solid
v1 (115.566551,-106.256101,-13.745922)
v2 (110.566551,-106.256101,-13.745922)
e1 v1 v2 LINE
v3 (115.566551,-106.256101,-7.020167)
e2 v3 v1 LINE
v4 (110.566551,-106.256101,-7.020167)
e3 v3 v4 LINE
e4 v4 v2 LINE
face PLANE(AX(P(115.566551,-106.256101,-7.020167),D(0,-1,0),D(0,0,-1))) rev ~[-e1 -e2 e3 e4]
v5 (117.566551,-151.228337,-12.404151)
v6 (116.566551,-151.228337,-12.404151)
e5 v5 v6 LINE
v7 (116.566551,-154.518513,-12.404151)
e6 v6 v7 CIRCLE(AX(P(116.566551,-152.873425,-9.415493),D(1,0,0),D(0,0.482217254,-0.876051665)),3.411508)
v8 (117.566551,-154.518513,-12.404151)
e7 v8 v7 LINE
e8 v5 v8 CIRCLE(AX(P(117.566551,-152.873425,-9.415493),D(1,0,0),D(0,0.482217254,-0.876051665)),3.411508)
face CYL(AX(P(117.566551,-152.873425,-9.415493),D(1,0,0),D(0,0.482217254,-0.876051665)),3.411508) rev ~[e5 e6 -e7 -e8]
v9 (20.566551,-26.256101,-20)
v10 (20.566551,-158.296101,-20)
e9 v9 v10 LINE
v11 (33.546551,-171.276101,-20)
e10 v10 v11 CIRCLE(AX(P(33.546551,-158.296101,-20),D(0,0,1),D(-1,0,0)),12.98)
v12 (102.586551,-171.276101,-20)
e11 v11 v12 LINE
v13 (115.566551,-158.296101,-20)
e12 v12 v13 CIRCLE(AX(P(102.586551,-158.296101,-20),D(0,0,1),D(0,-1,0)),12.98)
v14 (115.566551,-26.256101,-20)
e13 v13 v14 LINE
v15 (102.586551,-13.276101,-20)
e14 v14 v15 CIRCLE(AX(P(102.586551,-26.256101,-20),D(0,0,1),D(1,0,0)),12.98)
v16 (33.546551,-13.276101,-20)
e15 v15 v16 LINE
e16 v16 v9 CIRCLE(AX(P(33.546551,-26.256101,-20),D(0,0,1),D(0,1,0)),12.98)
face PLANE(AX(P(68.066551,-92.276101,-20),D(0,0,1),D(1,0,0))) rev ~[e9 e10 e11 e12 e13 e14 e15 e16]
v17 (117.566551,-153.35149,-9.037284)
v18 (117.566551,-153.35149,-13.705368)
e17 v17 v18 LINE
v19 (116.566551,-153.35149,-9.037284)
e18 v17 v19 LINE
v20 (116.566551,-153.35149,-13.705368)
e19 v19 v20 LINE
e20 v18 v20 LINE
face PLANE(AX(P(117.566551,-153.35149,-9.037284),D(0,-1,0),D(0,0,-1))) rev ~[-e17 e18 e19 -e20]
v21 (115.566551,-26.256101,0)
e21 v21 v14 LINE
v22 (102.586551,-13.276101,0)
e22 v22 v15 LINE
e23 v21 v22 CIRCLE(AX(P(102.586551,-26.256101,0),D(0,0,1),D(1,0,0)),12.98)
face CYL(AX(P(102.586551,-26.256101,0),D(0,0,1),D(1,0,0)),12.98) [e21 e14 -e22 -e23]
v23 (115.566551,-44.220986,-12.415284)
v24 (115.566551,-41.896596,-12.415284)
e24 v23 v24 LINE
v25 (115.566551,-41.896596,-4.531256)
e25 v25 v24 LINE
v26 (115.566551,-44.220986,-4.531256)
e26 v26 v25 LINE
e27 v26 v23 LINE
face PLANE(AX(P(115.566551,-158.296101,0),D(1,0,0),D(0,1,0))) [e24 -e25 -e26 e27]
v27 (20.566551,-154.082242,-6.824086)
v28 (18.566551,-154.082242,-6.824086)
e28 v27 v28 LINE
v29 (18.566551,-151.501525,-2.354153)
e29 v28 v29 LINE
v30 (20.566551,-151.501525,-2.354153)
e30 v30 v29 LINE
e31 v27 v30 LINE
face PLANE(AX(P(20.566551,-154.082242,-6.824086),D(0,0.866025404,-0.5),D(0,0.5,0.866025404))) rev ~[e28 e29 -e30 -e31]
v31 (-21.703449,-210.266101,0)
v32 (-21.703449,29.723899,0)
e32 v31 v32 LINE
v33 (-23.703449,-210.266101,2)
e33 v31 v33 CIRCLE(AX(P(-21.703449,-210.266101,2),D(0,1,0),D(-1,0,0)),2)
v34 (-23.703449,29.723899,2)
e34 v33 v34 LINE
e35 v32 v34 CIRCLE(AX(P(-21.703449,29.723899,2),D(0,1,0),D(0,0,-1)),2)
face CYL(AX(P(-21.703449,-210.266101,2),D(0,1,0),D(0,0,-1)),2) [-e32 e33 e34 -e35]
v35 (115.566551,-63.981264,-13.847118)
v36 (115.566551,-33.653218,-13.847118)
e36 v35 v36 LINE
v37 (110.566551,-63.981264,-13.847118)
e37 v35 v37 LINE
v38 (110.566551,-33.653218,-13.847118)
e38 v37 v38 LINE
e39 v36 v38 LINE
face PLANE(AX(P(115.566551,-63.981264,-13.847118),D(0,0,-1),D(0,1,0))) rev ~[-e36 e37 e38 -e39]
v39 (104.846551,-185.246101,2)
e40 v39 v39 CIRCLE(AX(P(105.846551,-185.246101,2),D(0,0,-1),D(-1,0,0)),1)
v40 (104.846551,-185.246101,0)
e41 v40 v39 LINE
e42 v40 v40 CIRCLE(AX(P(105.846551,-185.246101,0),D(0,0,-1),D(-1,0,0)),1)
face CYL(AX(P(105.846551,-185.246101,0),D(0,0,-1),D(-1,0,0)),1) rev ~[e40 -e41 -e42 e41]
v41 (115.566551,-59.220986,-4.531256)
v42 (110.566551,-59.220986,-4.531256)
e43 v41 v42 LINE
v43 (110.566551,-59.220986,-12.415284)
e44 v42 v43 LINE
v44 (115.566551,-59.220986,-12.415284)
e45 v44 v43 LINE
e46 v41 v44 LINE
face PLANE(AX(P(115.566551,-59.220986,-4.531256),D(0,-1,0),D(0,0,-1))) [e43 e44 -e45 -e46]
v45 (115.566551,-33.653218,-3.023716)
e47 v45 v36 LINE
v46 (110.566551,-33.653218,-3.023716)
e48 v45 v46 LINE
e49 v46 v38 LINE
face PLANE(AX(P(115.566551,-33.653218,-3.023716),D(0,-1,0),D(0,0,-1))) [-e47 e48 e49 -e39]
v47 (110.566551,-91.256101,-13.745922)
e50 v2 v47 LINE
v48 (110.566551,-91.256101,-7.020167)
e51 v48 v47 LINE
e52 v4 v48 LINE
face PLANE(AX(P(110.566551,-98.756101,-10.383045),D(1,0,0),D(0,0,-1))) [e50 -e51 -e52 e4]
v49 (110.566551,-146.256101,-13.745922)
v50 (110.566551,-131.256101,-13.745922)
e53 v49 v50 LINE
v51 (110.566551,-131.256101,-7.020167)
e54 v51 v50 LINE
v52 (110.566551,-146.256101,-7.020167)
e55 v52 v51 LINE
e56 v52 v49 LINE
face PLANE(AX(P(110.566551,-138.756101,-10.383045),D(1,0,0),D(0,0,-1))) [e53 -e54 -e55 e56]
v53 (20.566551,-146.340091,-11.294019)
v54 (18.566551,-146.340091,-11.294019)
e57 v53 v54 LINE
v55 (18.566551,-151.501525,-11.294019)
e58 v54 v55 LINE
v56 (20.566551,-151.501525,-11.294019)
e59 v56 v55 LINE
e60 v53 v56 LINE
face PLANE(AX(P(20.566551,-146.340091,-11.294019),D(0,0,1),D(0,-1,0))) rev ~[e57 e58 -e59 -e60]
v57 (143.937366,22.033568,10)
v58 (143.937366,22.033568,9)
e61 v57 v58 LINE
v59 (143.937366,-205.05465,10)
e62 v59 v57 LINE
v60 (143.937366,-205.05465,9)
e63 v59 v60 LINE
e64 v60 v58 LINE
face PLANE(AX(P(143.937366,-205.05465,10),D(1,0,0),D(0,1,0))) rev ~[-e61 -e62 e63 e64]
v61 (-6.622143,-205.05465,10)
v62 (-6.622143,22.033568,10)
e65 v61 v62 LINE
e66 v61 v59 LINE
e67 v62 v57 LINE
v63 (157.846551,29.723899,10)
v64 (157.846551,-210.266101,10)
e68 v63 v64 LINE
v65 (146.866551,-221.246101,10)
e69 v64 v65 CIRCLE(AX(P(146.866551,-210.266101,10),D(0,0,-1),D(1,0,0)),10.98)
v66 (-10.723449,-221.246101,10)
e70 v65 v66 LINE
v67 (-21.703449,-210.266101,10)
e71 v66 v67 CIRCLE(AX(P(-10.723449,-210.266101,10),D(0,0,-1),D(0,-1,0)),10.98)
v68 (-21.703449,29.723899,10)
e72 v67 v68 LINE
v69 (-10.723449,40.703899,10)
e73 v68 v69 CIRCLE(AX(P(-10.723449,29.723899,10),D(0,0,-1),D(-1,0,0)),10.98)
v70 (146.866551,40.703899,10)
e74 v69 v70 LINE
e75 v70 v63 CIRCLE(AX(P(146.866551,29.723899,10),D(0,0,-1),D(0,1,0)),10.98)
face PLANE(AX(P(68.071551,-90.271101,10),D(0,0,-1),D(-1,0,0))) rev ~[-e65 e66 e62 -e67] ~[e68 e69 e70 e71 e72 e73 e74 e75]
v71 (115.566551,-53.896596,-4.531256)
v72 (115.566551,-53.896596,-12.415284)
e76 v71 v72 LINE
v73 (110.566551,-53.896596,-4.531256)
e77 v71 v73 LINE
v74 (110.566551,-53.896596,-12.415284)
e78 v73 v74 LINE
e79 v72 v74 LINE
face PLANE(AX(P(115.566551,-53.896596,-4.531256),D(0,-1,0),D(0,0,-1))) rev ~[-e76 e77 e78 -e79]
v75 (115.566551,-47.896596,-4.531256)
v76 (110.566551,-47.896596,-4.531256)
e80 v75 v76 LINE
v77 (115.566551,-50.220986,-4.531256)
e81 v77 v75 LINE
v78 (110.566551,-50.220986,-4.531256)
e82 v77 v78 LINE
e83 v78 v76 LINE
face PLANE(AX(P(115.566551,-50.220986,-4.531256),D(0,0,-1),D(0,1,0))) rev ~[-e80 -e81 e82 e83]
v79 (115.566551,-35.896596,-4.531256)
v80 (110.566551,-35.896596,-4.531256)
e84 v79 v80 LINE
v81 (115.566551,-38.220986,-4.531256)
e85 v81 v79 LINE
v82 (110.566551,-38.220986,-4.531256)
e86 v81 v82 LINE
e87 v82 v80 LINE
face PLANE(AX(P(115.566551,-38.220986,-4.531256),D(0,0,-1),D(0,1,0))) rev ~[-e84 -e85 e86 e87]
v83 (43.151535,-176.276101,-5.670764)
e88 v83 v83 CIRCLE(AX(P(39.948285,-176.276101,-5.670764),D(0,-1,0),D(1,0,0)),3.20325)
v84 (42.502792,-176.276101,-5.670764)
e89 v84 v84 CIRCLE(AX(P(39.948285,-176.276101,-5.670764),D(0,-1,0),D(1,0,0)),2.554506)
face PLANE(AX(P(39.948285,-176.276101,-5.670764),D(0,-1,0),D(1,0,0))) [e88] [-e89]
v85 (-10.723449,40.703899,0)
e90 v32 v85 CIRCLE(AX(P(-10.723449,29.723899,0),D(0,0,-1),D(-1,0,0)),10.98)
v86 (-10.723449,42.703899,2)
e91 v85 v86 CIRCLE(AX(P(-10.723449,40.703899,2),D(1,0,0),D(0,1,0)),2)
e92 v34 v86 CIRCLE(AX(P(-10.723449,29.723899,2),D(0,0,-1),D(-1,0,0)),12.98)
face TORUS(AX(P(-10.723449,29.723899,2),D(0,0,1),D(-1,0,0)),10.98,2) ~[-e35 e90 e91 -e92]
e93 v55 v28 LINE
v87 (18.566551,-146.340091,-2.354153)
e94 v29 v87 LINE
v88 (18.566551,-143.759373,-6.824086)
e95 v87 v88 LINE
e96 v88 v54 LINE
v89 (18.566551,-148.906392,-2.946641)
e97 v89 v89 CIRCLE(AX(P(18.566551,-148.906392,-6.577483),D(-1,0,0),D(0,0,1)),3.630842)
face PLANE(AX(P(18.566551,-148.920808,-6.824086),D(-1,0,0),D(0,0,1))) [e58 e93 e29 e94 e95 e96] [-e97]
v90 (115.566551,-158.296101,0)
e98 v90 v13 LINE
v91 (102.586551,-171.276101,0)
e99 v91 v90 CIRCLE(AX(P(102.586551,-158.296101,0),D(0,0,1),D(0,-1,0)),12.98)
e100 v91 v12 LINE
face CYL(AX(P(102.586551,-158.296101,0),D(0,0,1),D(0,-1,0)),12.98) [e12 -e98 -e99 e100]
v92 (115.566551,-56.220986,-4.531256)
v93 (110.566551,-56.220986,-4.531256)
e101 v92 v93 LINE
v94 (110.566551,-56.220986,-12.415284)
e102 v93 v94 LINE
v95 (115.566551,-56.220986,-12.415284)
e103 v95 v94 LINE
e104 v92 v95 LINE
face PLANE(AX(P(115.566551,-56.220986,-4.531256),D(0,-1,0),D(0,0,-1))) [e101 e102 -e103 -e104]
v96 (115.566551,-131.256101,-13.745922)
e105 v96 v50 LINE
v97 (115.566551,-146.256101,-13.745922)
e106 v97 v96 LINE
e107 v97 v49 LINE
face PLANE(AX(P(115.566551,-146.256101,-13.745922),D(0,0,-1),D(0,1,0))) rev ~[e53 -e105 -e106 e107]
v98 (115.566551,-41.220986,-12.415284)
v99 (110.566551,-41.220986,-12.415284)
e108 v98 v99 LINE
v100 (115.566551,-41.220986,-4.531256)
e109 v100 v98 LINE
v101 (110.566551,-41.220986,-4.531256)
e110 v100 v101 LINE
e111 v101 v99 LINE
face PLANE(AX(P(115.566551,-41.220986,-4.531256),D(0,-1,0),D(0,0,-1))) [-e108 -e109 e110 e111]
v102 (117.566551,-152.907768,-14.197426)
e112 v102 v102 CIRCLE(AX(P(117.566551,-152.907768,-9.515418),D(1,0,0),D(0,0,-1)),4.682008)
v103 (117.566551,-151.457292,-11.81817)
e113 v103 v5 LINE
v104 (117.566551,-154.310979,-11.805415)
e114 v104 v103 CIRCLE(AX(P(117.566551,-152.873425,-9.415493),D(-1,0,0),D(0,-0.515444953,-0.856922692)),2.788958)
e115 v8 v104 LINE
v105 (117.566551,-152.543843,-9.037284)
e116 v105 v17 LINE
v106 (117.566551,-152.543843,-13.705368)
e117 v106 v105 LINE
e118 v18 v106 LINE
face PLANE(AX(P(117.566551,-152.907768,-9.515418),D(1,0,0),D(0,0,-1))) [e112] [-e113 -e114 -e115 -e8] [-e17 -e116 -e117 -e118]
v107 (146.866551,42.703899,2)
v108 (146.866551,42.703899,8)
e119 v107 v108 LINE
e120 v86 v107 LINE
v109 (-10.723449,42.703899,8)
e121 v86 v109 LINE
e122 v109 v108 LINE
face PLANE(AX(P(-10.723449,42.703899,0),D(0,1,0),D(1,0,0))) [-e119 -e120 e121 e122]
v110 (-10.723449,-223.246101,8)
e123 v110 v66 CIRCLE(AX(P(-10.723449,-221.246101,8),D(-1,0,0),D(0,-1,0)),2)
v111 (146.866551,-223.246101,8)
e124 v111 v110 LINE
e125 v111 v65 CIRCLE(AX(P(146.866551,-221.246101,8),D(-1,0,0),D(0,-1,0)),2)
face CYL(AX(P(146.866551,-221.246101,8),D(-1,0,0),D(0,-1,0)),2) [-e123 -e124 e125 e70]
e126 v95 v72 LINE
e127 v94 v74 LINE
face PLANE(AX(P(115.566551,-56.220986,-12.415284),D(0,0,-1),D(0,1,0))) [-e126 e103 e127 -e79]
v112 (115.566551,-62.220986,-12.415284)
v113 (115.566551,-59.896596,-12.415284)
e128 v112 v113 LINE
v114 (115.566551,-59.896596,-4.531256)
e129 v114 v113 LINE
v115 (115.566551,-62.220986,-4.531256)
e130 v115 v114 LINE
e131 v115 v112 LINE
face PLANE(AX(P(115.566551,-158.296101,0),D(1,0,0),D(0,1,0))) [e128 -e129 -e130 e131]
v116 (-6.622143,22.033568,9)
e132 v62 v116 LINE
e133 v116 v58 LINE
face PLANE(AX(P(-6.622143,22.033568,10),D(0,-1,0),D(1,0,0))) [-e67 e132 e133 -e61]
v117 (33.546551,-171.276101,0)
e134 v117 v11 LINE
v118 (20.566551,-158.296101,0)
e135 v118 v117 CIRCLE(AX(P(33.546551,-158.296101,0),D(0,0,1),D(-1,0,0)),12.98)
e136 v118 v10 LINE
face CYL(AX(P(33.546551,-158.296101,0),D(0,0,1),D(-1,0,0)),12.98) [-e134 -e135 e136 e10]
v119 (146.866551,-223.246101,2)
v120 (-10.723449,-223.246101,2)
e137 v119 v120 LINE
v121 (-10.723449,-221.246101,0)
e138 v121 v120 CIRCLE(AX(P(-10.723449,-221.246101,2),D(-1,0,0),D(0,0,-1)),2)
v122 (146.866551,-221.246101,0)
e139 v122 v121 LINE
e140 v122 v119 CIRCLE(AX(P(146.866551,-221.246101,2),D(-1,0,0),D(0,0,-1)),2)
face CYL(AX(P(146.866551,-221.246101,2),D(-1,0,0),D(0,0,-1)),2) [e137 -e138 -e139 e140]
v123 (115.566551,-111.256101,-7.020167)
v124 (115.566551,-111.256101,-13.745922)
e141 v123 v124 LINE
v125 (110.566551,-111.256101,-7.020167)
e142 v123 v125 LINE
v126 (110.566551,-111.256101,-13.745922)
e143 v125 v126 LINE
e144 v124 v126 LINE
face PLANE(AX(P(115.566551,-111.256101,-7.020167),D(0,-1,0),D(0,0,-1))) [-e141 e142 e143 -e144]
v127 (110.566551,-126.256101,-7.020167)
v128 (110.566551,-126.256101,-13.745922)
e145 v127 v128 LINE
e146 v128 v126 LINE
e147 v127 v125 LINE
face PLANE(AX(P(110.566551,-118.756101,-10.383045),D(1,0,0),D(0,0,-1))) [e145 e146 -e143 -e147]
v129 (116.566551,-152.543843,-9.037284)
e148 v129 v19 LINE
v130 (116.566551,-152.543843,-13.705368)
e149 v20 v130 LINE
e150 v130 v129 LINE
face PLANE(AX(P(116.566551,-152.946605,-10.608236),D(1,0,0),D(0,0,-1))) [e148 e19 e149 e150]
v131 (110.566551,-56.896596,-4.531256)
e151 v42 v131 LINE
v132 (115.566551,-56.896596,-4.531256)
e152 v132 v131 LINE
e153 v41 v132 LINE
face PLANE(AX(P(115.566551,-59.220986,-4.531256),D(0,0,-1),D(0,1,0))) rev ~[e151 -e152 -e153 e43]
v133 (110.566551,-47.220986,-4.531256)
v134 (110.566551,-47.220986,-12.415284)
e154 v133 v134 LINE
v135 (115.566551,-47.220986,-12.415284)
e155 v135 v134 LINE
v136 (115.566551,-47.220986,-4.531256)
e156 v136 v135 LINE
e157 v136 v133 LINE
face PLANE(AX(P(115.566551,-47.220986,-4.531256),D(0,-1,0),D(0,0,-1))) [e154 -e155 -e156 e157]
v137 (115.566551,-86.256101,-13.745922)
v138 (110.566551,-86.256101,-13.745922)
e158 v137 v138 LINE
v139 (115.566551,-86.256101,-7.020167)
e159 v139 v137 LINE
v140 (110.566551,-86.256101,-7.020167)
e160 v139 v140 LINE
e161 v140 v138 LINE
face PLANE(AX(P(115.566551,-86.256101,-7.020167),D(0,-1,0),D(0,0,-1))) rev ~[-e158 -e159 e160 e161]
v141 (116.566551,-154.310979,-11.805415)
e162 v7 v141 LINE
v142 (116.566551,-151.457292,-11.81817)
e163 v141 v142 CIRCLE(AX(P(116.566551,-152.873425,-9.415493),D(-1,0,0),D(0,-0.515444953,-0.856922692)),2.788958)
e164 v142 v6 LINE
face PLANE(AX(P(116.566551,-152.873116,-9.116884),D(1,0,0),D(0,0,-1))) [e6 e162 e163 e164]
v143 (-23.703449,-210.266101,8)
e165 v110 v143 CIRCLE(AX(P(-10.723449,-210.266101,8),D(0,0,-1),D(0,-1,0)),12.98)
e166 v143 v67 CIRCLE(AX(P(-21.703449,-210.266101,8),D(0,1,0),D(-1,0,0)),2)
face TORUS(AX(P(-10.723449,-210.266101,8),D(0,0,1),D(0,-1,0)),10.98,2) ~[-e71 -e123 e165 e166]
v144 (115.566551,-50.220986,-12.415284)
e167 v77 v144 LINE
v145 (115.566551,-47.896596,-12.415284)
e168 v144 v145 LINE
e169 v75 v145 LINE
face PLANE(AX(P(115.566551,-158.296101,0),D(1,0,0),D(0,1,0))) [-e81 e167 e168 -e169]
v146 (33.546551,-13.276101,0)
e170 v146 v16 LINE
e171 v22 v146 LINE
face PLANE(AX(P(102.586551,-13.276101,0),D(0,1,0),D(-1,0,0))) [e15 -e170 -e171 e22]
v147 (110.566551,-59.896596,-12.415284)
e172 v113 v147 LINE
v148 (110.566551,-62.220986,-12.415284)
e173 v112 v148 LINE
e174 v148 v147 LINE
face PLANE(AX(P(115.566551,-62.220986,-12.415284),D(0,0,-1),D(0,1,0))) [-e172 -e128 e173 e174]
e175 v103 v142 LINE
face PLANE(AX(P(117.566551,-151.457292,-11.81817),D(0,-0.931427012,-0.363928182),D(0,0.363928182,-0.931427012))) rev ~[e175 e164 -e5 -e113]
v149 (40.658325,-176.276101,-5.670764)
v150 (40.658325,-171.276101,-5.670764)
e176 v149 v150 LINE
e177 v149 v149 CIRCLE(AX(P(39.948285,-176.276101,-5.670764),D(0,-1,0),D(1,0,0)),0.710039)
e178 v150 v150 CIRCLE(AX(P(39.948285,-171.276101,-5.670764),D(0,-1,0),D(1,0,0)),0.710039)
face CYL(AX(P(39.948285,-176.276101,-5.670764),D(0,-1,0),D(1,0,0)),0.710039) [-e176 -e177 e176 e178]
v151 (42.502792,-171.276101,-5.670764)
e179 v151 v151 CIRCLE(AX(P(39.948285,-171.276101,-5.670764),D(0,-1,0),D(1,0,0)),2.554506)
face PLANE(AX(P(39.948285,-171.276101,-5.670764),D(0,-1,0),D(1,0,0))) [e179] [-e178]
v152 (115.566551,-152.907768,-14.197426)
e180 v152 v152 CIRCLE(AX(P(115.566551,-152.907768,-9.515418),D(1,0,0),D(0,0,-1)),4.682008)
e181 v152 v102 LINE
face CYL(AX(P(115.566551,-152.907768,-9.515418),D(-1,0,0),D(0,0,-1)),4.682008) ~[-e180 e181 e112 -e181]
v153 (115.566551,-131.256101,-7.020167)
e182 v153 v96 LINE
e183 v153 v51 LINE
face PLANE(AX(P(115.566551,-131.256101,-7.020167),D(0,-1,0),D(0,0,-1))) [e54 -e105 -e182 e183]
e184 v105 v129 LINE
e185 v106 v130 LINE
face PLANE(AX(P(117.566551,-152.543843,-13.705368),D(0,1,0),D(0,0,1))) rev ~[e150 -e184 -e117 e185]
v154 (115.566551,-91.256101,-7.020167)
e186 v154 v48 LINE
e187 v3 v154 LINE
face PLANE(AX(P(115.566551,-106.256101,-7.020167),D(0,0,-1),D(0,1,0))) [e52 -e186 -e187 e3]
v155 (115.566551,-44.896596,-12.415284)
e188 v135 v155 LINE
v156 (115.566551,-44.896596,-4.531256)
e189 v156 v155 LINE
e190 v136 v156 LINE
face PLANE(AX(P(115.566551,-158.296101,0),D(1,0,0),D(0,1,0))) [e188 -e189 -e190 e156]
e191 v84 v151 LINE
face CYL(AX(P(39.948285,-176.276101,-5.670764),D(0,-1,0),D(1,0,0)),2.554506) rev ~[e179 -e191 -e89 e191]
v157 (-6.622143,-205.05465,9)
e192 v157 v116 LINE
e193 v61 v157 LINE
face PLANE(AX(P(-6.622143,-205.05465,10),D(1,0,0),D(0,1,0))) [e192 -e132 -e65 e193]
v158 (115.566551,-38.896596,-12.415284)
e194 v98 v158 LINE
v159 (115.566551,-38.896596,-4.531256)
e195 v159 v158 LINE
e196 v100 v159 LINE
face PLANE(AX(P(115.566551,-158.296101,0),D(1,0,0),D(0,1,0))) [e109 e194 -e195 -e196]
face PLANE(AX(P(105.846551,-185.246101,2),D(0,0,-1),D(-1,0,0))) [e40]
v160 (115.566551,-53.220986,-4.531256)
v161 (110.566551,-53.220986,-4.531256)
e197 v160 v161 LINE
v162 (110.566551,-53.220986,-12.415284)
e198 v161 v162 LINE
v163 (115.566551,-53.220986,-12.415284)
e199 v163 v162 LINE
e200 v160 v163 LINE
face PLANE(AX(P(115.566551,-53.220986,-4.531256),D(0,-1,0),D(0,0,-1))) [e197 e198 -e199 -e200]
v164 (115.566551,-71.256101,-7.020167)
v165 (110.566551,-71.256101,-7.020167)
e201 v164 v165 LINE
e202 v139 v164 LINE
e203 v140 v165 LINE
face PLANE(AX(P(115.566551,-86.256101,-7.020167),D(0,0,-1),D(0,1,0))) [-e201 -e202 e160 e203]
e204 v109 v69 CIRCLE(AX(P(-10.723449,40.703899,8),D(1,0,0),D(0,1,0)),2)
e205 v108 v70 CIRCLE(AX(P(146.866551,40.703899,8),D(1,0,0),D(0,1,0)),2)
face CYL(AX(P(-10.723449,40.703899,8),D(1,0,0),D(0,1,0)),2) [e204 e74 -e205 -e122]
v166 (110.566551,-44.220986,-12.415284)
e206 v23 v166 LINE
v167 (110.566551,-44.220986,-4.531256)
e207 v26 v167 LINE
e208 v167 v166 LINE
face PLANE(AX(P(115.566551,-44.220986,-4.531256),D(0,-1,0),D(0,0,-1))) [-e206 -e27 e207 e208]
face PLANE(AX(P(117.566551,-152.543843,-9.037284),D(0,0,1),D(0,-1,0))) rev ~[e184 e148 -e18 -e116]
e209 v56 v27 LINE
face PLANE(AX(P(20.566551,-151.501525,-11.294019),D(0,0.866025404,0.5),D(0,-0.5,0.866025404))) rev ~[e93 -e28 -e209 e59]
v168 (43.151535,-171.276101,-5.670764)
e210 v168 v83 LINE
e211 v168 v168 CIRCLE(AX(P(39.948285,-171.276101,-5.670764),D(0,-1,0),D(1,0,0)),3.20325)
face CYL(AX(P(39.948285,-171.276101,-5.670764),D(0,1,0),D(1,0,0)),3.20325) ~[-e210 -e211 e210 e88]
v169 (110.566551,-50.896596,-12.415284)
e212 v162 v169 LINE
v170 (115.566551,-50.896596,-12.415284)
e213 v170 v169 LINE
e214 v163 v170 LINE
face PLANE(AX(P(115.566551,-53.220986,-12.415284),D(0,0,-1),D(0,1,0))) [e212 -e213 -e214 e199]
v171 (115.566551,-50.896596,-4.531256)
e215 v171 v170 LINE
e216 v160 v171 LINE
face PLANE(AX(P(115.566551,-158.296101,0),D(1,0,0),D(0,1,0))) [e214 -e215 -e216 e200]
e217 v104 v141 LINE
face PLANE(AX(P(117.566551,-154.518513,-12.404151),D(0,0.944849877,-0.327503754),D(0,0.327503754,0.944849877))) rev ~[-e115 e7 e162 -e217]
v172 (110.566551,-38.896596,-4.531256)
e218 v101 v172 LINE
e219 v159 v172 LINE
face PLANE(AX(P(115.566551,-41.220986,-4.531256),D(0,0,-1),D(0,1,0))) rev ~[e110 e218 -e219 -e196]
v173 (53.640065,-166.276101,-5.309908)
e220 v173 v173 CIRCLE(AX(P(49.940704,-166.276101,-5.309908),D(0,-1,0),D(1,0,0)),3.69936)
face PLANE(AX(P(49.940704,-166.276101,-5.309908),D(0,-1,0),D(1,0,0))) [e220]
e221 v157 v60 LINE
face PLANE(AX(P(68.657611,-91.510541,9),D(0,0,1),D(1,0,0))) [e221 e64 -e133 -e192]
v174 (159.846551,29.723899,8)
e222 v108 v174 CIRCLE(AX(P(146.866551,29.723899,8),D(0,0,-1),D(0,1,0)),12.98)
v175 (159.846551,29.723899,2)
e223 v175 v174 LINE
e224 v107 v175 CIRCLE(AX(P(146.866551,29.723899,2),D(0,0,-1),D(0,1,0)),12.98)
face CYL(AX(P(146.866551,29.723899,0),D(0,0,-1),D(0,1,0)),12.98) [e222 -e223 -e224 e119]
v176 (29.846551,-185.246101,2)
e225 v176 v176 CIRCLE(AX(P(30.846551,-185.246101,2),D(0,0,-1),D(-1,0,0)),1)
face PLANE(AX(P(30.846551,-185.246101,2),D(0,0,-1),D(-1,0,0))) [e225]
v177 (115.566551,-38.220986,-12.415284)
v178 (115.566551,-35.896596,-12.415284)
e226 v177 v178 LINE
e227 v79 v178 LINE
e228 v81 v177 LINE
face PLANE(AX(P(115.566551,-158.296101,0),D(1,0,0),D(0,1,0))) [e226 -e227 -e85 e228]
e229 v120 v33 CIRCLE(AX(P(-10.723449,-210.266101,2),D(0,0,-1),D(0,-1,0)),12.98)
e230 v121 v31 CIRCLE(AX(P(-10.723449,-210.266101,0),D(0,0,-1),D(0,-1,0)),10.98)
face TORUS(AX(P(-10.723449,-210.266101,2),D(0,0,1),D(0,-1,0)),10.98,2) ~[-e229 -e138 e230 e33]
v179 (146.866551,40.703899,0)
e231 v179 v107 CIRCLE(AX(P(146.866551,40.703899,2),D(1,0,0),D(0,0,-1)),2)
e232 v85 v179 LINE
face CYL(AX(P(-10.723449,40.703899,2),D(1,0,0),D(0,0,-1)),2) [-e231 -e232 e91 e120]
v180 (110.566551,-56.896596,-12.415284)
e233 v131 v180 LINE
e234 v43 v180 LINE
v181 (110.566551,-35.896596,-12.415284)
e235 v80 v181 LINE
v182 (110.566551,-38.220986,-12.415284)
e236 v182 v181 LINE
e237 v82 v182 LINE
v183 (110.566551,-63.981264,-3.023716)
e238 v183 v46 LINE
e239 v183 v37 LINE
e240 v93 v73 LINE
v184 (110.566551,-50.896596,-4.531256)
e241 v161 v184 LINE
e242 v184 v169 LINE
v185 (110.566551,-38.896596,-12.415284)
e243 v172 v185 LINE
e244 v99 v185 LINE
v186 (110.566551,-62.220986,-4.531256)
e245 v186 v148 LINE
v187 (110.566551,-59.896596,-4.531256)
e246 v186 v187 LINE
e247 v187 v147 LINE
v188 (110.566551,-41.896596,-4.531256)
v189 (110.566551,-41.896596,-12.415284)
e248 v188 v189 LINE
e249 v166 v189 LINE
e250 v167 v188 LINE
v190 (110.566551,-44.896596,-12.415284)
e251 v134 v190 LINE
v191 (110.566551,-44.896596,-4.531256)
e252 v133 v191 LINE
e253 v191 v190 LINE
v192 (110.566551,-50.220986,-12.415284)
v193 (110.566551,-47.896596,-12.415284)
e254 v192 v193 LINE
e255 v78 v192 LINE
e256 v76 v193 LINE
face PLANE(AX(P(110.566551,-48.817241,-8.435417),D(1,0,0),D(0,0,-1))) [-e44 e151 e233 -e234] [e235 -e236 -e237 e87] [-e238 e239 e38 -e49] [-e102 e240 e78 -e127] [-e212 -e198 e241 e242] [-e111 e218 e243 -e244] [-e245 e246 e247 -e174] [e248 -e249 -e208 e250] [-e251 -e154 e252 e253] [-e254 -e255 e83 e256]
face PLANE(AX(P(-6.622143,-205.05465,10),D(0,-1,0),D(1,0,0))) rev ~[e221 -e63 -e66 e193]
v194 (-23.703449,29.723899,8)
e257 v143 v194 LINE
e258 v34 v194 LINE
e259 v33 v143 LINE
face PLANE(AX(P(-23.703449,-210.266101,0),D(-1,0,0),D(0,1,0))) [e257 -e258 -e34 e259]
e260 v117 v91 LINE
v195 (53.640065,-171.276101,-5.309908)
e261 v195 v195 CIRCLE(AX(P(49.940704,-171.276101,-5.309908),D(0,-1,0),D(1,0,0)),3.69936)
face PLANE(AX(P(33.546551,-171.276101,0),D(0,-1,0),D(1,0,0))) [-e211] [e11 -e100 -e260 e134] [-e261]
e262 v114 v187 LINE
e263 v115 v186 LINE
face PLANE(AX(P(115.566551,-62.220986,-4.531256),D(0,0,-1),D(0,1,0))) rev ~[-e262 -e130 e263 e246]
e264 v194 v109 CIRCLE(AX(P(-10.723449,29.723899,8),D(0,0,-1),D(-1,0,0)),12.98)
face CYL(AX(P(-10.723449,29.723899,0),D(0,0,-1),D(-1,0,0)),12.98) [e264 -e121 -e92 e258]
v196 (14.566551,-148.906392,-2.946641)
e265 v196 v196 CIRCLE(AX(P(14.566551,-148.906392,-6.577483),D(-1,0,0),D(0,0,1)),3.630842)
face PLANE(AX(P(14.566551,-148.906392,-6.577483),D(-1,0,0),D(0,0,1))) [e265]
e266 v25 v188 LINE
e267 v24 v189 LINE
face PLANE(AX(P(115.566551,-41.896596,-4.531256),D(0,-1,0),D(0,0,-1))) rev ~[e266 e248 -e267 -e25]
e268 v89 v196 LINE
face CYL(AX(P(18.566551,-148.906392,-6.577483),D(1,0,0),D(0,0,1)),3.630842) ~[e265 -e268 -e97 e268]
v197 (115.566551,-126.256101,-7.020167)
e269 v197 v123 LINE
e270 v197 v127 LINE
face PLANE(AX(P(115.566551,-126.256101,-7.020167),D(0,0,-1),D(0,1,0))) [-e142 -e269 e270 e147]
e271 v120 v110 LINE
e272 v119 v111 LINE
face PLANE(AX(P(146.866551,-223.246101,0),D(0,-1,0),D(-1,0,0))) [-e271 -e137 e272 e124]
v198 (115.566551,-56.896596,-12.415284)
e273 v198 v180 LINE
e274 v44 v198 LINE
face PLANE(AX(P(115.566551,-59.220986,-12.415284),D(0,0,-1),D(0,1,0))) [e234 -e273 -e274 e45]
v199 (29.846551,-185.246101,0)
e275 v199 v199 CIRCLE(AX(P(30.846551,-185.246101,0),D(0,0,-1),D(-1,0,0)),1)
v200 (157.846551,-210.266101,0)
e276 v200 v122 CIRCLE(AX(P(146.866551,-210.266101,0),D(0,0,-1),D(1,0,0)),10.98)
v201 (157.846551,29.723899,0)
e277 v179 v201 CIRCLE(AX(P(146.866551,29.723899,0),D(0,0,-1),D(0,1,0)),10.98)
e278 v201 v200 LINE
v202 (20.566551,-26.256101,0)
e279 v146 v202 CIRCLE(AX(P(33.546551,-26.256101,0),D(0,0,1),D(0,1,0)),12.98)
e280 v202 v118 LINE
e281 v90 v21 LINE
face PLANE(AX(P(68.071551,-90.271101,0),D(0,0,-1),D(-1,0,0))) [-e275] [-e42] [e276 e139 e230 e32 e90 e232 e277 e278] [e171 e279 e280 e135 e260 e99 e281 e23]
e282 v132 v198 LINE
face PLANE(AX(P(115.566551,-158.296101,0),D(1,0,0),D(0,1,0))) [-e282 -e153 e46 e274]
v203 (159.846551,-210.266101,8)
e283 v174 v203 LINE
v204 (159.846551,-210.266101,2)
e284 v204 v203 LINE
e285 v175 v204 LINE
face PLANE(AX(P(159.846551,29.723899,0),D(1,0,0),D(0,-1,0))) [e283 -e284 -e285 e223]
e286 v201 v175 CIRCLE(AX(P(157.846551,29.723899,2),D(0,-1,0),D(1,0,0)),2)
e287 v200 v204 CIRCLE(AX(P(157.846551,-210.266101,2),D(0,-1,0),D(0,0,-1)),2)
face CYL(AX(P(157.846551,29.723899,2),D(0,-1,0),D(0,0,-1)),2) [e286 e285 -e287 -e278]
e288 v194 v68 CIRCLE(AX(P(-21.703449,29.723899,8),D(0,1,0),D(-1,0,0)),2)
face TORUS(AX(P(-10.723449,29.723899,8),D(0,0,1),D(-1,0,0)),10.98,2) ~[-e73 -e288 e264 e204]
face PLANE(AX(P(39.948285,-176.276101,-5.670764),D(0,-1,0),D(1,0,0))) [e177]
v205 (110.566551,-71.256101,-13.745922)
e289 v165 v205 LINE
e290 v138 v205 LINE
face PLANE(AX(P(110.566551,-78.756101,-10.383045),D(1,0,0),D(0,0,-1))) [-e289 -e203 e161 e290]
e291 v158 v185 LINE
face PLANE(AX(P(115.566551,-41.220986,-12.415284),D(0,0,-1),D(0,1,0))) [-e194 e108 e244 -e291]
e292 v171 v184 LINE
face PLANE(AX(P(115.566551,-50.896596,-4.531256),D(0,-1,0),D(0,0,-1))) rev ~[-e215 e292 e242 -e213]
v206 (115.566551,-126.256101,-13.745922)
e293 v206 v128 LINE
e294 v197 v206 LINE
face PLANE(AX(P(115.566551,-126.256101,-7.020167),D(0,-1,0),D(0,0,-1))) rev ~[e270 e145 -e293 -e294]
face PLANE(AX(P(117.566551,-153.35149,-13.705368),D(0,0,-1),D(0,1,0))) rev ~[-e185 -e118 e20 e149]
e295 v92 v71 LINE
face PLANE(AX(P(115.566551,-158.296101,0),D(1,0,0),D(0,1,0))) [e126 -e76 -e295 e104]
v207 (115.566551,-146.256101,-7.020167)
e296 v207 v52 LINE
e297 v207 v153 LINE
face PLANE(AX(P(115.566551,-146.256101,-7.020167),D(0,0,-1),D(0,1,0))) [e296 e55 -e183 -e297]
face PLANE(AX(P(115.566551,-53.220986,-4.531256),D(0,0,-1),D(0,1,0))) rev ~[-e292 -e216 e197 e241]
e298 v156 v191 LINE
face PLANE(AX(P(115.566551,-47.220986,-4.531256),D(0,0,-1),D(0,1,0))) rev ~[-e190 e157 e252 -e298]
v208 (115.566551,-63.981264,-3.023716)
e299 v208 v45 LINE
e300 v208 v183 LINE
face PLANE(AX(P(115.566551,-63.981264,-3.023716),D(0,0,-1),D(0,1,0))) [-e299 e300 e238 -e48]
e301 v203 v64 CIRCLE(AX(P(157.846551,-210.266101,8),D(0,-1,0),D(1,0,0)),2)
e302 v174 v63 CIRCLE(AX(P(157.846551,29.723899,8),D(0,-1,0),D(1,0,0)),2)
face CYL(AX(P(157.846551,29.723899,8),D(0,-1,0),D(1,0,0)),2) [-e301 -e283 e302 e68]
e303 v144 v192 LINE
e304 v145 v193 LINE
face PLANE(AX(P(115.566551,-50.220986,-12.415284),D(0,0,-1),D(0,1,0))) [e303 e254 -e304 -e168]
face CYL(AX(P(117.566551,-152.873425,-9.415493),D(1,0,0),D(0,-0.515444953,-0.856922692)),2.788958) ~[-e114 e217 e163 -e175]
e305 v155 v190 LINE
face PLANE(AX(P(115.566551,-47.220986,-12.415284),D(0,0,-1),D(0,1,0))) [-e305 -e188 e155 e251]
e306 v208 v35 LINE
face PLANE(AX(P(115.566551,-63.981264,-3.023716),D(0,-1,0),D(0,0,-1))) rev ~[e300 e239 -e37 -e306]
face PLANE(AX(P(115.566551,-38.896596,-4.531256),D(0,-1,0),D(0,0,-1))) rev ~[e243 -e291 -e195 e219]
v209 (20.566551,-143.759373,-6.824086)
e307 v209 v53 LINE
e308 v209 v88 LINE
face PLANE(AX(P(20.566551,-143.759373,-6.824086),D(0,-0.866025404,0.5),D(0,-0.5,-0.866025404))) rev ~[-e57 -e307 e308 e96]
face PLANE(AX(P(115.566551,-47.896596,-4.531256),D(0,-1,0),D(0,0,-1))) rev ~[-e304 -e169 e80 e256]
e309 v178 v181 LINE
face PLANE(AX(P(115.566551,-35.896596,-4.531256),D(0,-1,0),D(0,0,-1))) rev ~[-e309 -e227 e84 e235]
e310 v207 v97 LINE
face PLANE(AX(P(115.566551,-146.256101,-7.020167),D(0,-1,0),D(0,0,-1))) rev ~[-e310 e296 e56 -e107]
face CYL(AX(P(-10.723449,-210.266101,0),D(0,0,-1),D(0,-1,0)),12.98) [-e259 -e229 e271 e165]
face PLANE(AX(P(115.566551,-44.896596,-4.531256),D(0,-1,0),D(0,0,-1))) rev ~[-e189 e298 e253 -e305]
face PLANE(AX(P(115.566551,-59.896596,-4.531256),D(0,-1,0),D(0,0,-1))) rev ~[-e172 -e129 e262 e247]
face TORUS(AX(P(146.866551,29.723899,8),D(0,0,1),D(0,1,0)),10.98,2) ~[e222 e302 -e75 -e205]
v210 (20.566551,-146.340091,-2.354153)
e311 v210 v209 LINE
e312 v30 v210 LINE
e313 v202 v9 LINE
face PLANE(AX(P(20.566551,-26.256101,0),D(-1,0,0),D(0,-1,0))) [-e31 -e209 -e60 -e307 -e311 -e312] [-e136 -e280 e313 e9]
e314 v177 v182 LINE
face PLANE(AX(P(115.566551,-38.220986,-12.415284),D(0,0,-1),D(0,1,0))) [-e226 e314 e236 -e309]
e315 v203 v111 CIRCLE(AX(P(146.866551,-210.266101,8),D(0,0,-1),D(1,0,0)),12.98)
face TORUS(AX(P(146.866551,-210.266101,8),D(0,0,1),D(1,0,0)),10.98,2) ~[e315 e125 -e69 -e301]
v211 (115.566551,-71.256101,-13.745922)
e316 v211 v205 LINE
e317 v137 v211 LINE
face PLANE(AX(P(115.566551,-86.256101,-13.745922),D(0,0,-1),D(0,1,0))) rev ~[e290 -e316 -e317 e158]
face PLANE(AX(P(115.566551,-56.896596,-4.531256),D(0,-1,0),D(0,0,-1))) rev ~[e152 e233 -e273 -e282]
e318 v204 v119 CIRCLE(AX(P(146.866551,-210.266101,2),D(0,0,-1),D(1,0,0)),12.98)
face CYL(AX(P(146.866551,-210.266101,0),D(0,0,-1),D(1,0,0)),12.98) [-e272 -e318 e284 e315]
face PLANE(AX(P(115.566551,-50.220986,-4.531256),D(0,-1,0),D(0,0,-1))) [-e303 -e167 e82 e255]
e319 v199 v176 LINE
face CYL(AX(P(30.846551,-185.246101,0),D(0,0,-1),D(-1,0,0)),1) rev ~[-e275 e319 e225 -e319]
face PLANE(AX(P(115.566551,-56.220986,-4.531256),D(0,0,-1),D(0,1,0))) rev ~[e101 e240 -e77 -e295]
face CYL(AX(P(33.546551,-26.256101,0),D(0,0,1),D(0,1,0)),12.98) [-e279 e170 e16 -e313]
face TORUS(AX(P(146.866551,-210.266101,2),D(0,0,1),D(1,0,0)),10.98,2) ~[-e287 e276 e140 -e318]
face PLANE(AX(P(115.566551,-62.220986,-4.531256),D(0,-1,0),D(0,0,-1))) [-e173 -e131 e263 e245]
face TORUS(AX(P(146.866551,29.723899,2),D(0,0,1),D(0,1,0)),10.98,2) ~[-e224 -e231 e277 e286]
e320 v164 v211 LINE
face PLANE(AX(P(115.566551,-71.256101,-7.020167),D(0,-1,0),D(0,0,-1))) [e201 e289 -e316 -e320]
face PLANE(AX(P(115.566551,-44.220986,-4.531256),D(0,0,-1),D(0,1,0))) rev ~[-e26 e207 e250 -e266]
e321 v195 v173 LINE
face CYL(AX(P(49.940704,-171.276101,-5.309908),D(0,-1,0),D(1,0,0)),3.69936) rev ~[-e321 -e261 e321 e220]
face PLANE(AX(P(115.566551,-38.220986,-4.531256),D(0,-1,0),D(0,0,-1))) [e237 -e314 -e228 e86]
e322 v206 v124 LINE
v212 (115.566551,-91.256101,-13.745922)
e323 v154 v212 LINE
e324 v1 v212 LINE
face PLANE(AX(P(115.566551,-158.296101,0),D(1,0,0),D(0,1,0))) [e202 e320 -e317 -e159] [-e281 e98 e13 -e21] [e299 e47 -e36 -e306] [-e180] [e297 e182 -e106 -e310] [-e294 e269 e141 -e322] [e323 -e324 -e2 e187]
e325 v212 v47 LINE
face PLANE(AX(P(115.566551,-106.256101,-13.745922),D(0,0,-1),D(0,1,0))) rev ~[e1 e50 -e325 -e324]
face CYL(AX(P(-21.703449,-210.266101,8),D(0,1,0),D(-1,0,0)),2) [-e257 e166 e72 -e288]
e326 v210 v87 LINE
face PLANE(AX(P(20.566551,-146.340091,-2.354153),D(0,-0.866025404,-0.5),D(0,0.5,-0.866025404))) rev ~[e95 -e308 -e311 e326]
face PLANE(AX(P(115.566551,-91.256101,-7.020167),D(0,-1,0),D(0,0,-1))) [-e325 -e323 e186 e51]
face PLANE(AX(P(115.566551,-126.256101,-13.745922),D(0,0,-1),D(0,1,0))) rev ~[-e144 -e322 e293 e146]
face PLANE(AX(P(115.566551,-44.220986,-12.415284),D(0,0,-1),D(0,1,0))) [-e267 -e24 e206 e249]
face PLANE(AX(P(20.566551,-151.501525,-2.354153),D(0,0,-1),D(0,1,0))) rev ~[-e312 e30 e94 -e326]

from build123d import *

# Parameters (mm, degrees)
BOSS_EXTRUDE1_DEPTH = 10
FILLET1_R           = 2
FILLET2_R           = 2
SKETCH2_W           = 150.559508978
SKETCH2_H           = 227.088218296
CUT_EXTRUDE1_DEPTH  = 1
BOSS_EXTRUDE2_DEPTH = 20
SKETCH4_W           = 6.725754883
SKETCH4_H           = 15
CUT_EXTRUDE2_DEPTH  = 5
SKETCH5_W           = 10.823402452
SKETCH5_H           = 30.328045867
SKETCH5_W_2         = 7.884028191
SKETCH5_H_2         = 2.324389301
CUT_EXTRUDE3_DEPTH  = 5
SKETCH6_R           = 4.682007924
BOSS_EXTRUDE3_DEPTH = 2
CUT_EXTRUDE4_DEPTH  = 1
SKETCH8_R           = 3.203249508
BOSS_EXTRUDE4_DEPTH = 5
SKETCH9_R           = 2.554506396
SKETCH9_R_2         = 0.710039237
CUT_EXTRUDE5_DEPTH  = 5
SKETCH10_R          = 3.699360335
CUT_EXTRUDE6_DEPTH  = 5
BOSS_EXTRUDE5_DEPTH = 2
SKETCH12_R          = 3.630842339
BOSS_EXTRUDE6_DEPTH = 4
SKETCH13_R          = 1
CUT_EXTRUDE7_DEPTH  = 2


with BuildPart() as part:
    # Sketch1 → Boss-Extrude1 (new body)
    with BuildSketch(Plane.XY):
        with BuildLine():
            Line((-10.72344857, 42.703899352), (146.86655143, 42.703899352))
            ThreePointArc((146.86655143, 42.703899352), (156.04479745, 38.902145372), (159.84655143, 29.723899352))
            Line((159.84655143, 29.723899352), (159.84655143, -210.266100648))
            ThreePointArc((159.84655143, -210.266100648), (156.04479745, -219.444346668), (146.86655143, -223.246100648))
            Line((146.86655143, -223.246100648), (-10.72344857, -223.246100648))
            ThreePointArc((-10.72344857, -223.246100648), (-19.90169459, -219.444346668), (-23.70344857, -210.266100648))
            Line((-23.70344857, -210.266100648), (-23.70344857, 29.723899352))
            ThreePointArc((-23.70344857, 29.723899352), (-19.90169459, 38.902145372), (-10.72344857, 42.703899352))
        make_face()
    extrude(amount=BOSS_EXTRUDE1_DEPTH)

    # Fillet1
    fillet1_edges = [part.edges().sort_by_distance(p)[0] for p in [
        (156.04479745, -219.444346668, 10),
        (159.84655143, -90.271100648, 10),
        (156.04479745, 38.902145372, 10),
        (68.07155143, 42.703899352, 10),
        (-19.90169459, 38.902145372, 10),
        (-23.70344857, -90.271100648, 10),
        (-19.90169459, -219.444346668, 10),
        (68.07155143, -223.246100648, 10),
    ]]
    fillet(fillet1_edges, radius=FILLET1_R)

    # Fillet2
    fillet2_edges = [part.edges().sort_by_distance(p)[0] for p in [
        (68.07155143, -223.246100648, 0),
        (-19.90169459, -219.444346668, 0),
        (-23.70344857, -90.271100648, 0),
        (-19.90169459, 38.902145372, 0),
        (68.07155143, 42.703899352, 0),
        (156.04479745, 38.902145372, 0),
        (159.84655143, -90.271100648, 0),
        (156.04479745, -219.444346668, 0),
    ]]
    fillet(fillet2_edges, radius=FILLET2_R)

    # Sketch2 → Cut-Extrude1 (cut)
    with BuildSketch(Plane.XY.offset(10)):
        with Locations((68.657611098, -91.510541064)):
            Rectangle(SKETCH2_W, SKETCH2_H)
    extrude(amount=-CUT_EXTRUDE1_DEPTH, mode=Mode.SUBTRACT)

    # Sketch3 → Boss-Extrude2 (add)
    with BuildSketch(Plane(origin=(0, 0, 0), x_dir=(-1, 0, 0), z_dir=(0, 0, -1))):
        with BuildLine():
            Line((-102.58655143, -13.276100648), (-33.54655143, -13.276100648))
            ThreePointArc((-33.54655143, -13.276100648), (-24.36830541, -17.077854628), (-20.56655143, -26.256100648))
            Line((-20.56655143, -26.256100648), (-20.56655143, -158.296100648))
            ThreePointArc((-20.56655143, -158.296100648), (-24.36830541, -167.474346668), (-33.54655143, -171.276100648))
            Line((-33.54655143, -171.276100648), (-102.58655143, -171.276100648))
            ThreePointArc((-102.58655143, -171.276100648), (-111.76479745, -167.474346668), (-115.56655143, -158.296100648))
            Line((-115.56655143, -158.296100648), (-115.56655143, -26.256100648))
            ThreePointArc((-115.56655143, -26.256100648), (-111.76479745, -17.077854628), (-102.58655143, -13.276100648))
        make_face()
    extrude(amount=BOSS_EXTRUDE2_DEPTH)

    # Sketch4 → Cut-Extrude2 (cut)
    with BuildSketch(Plane(origin=(115.56655143, 0, 0), x_dir=(0, 0, -1), z_dir=(1, 0, 0))):
        with Locations((10.383044541, -78.756100648)):
            Rectangle(SKETCH4_W, SKETCH4_H)
        with Locations((10.383044541, -98.756100648)):
            Rectangle(SKETCH4_W, SKETCH4_H)
        with Locations((10.383044541, -118.756100648)):
            Rectangle(SKETCH4_W, SKETCH4_H)
        with Locations((10.383044541, -138.756100648)):
            Rectangle(SKETCH4_W, SKETCH4_H)
    extrude(amount=-CUT_EXTRUDE2_DEPTH, mode=Mode.SUBTRACT)

    # Sketch5 → Cut-Extrude3 (cut)
    with BuildSketch(Plane(origin=(115.56655143, 0, 0), x_dir=(0, 0, -1), z_dir=(1, 0, 0))):
        with Locations((8.435417198, -48.817241241)):
            Rectangle(SKETCH5_W, SKETCH5_H)
        with Locations((8.473269779, -40.058791114)):
            Rectangle(SKETCH5_W_2, SKETCH5_H_2, mode=Mode.SUBTRACT)
        with Locations((8.473269779, -37.058791114)):
            Rectangle(SKETCH5_W_2, SKETCH5_H_2, mode=Mode.SUBTRACT)
        with Locations((8.473269779, -43.058791114)):
            Rectangle(SKETCH5_W_2, SKETCH5_H_2, mode=Mode.SUBTRACT)
        with Locations((8.473269779, -46.058791114)):
            Rectangle(SKETCH5_W_2, SKETCH5_H_2, mode=Mode.SUBTRACT)
        with Locations((8.473269779, -49.058791114)):
            Rectangle(SKETCH5_W_2, SKETCH5_H_2, mode=Mode.SUBTRACT)
        with Locations((8.473269779, -52.058791114)):
            Rectangle(SKETCH5_W_2, SKETCH5_H_2, mode=Mode.SUBTRACT)
        with Locations((8.473269779, -55.058791114)):
            Rectangle(SKETCH5_W_2, SKETCH5_H_2, mode=Mode.SUBTRACT)
        with Locations((8.473269779, -58.058791114)):
            Rectangle(SKETCH5_W_2, SKETCH5_H_2, mode=Mode.SUBTRACT)
        with Locations((8.473269779, -61.058791114)):
            Rectangle(SKETCH5_W_2, SKETCH5_H_2, mode=Mode.SUBTRACT)
    extrude(amount=-CUT_EXTRUDE3_DEPTH, mode=Mode.SUBTRACT)

    # Sketch6 → Boss-Extrude3 (add)
    with BuildSketch(Plane(origin=(115.56655143, 0, 0), x_dir=(0, 0, -1), z_dir=(1, 0, 0))):
        with Locations((9.515417979, -152.907768045)):
            Circle(SKETCH6_R)
    extrude(amount=BOSS_EXTRUDE3_DEPTH)

    # Sketch7 → Cut-Extrude4 (cut)
    with BuildSketch(Plane(origin=(117.56655143, 0, 0), x_dir=(0, 0, -1), z_dir=(1, 0, 0))):
        with BuildLine():
            ThreePointArc((11.805414658, -154.310979404), (6.626563337, -152.860959544), (11.818169697, -151.457292202))
            Line((11.818169697, -151.457292202), (12.404150804, -151.228337022))
            ThreePointArc((12.404150804, -151.228337022), (6.003985158, -152.87342514), (12.404150804, -154.518513257))
            Line((12.404150804, -154.518513257), (11.805414658, -154.310979404))
        make_face()
        with BuildLine():
            Line((12.18490875, -152.543842862), (9.037284105, -152.543842862))
            Line((9.037284105, -152.543842862), (9.037284105, -153.351490318))
            Line((9.037284105, -153.351490318), (12.163172337, -153.351490318))
            ThreePointArc((12.163172337, -153.351490318), (12.194112354, -153.113347139), (12.204451244, -152.87342514))
            ThreePointArc((12.204451244, -152.87342514), (12.199561333, -152.708344563), (12.18490875, -152.543842862))
        make_face()
        with BuildLine():
            Line((12.811043942, -152.543842862), (12.18490875, -152.543842862))
            ThreePointArc((12.18490875, -152.543842862), (12.199561333, -152.708344563), (12.204451244, -152.87342514))
            ThreePointArc((12.204451244, -152.87342514), (12.194112354, -153.113347139), (12.163172337, -153.351490318))
            Line((12.163172337, -153.351490318), (12.793339111, -153.351490318))
            ThreePointArc((12.793339111, -153.351490318), (12.818575546, -153.113049573), (12.827001565, -152.87342514))
            ThreePointArc((12.827001565, -152.87342514), (12.823009824, -152.708440956), (12.811043942, -152.543842862))
        make_face()
        with BuildLine():
            Line((13.705368282, -152.543842862), (12.811043942, -152.543842862))
            ThreePointArc((12.811043942, -152.543842862), (12.823009824, -152.708440956), (12.827001565, -152.87342514))
            ThreePointArc((12.827001565, -152.87342514), (12.818575546, -153.113049573), (12.793339111, -153.351490318))
            Line((12.793339111, -153.351490318), (13.705368282, -153.351490318))
            Line((13.705368282, -153.351490318), (13.705368282, -152.543842862))
        make_face()
    extrude(amount=-CUT_EXTRUDE4_DEPTH, mode=Mode.SUBTRACT)

    # Sketch8 → Boss-Extrude4 (add)
    with BuildSketch(Plane.XZ.offset(171.276100648)):
        with Locations((39.948285329, -5.670763906)):
            Circle(SKETCH8_R)
    extrude(amount=BOSS_EXTRUDE4_DEPTH)

    # Sketch9 → Cut-Extrude5 (cut)
    with BuildSketch(Plane.XZ.offset(176.276100648)):
        with Locations((39.948285329, -5.670763906)):
            Circle(SKETCH9_R)
        with Locations((39.948285329, -5.670763906)):
            Circle(SKETCH9_R_2, mode=Mode.SUBTRACT)
    extrude(amount=-CUT_EXTRUDE5_DEPTH, mode=Mode.SUBTRACT)

    # Sketch10 → Cut-Extrude6 (cut)
    with BuildSketch(Plane.XZ.offset(171.276100648)):
        with Locations((49.940704465, -5.30990755)):
            Circle(SKETCH10_R)
    extrude(amount=-CUT_EXTRUDE6_DEPTH, mode=Mode.SUBTRACT)

    # Sketch11 → Boss-Extrude5 (add)
    with BuildSketch(Plane.ZY.offset(-20.56655143)):
        Polygon((-6.82408612, -143.759373329), (-11.294019493, -146.340090565), (-11.294019493, -151.501525037), (-6.82408612, -154.082242272), (-2.354152748, -151.501525037), (-2.354152748, -146.340090565), align=None)
    extrude(amount=BOSS_EXTRUDE5_DEPTH)

    # Sketch12 → Boss-Extrude6 (add)
    with BuildSketch(Plane.ZY.offset(-18.56655143)):
        with Locations((-6.577483045, -148.906392161)):
            Circle(SKETCH12_R)
    extrude(amount=BOSS_EXTRUDE6_DEPTH)

    # Sketch13 → Cut-Extrude7 (cut)
    with BuildSketch(Plane(origin=(0, 0, 0), x_dir=(-1, 0, 0), z_dir=(0, 0, -1))):
        with Locations((-105.84655143, -185.246100648)):
            Circle(SKETCH13_R)
        with Locations((-30.84655143, -185.246100648)):
            Circle(SKETCH13_R)
    extrude(amount=-CUT_EXTRUDE7_DEPTH, mode=Mode.SUBTRACT)


solid = part.part
